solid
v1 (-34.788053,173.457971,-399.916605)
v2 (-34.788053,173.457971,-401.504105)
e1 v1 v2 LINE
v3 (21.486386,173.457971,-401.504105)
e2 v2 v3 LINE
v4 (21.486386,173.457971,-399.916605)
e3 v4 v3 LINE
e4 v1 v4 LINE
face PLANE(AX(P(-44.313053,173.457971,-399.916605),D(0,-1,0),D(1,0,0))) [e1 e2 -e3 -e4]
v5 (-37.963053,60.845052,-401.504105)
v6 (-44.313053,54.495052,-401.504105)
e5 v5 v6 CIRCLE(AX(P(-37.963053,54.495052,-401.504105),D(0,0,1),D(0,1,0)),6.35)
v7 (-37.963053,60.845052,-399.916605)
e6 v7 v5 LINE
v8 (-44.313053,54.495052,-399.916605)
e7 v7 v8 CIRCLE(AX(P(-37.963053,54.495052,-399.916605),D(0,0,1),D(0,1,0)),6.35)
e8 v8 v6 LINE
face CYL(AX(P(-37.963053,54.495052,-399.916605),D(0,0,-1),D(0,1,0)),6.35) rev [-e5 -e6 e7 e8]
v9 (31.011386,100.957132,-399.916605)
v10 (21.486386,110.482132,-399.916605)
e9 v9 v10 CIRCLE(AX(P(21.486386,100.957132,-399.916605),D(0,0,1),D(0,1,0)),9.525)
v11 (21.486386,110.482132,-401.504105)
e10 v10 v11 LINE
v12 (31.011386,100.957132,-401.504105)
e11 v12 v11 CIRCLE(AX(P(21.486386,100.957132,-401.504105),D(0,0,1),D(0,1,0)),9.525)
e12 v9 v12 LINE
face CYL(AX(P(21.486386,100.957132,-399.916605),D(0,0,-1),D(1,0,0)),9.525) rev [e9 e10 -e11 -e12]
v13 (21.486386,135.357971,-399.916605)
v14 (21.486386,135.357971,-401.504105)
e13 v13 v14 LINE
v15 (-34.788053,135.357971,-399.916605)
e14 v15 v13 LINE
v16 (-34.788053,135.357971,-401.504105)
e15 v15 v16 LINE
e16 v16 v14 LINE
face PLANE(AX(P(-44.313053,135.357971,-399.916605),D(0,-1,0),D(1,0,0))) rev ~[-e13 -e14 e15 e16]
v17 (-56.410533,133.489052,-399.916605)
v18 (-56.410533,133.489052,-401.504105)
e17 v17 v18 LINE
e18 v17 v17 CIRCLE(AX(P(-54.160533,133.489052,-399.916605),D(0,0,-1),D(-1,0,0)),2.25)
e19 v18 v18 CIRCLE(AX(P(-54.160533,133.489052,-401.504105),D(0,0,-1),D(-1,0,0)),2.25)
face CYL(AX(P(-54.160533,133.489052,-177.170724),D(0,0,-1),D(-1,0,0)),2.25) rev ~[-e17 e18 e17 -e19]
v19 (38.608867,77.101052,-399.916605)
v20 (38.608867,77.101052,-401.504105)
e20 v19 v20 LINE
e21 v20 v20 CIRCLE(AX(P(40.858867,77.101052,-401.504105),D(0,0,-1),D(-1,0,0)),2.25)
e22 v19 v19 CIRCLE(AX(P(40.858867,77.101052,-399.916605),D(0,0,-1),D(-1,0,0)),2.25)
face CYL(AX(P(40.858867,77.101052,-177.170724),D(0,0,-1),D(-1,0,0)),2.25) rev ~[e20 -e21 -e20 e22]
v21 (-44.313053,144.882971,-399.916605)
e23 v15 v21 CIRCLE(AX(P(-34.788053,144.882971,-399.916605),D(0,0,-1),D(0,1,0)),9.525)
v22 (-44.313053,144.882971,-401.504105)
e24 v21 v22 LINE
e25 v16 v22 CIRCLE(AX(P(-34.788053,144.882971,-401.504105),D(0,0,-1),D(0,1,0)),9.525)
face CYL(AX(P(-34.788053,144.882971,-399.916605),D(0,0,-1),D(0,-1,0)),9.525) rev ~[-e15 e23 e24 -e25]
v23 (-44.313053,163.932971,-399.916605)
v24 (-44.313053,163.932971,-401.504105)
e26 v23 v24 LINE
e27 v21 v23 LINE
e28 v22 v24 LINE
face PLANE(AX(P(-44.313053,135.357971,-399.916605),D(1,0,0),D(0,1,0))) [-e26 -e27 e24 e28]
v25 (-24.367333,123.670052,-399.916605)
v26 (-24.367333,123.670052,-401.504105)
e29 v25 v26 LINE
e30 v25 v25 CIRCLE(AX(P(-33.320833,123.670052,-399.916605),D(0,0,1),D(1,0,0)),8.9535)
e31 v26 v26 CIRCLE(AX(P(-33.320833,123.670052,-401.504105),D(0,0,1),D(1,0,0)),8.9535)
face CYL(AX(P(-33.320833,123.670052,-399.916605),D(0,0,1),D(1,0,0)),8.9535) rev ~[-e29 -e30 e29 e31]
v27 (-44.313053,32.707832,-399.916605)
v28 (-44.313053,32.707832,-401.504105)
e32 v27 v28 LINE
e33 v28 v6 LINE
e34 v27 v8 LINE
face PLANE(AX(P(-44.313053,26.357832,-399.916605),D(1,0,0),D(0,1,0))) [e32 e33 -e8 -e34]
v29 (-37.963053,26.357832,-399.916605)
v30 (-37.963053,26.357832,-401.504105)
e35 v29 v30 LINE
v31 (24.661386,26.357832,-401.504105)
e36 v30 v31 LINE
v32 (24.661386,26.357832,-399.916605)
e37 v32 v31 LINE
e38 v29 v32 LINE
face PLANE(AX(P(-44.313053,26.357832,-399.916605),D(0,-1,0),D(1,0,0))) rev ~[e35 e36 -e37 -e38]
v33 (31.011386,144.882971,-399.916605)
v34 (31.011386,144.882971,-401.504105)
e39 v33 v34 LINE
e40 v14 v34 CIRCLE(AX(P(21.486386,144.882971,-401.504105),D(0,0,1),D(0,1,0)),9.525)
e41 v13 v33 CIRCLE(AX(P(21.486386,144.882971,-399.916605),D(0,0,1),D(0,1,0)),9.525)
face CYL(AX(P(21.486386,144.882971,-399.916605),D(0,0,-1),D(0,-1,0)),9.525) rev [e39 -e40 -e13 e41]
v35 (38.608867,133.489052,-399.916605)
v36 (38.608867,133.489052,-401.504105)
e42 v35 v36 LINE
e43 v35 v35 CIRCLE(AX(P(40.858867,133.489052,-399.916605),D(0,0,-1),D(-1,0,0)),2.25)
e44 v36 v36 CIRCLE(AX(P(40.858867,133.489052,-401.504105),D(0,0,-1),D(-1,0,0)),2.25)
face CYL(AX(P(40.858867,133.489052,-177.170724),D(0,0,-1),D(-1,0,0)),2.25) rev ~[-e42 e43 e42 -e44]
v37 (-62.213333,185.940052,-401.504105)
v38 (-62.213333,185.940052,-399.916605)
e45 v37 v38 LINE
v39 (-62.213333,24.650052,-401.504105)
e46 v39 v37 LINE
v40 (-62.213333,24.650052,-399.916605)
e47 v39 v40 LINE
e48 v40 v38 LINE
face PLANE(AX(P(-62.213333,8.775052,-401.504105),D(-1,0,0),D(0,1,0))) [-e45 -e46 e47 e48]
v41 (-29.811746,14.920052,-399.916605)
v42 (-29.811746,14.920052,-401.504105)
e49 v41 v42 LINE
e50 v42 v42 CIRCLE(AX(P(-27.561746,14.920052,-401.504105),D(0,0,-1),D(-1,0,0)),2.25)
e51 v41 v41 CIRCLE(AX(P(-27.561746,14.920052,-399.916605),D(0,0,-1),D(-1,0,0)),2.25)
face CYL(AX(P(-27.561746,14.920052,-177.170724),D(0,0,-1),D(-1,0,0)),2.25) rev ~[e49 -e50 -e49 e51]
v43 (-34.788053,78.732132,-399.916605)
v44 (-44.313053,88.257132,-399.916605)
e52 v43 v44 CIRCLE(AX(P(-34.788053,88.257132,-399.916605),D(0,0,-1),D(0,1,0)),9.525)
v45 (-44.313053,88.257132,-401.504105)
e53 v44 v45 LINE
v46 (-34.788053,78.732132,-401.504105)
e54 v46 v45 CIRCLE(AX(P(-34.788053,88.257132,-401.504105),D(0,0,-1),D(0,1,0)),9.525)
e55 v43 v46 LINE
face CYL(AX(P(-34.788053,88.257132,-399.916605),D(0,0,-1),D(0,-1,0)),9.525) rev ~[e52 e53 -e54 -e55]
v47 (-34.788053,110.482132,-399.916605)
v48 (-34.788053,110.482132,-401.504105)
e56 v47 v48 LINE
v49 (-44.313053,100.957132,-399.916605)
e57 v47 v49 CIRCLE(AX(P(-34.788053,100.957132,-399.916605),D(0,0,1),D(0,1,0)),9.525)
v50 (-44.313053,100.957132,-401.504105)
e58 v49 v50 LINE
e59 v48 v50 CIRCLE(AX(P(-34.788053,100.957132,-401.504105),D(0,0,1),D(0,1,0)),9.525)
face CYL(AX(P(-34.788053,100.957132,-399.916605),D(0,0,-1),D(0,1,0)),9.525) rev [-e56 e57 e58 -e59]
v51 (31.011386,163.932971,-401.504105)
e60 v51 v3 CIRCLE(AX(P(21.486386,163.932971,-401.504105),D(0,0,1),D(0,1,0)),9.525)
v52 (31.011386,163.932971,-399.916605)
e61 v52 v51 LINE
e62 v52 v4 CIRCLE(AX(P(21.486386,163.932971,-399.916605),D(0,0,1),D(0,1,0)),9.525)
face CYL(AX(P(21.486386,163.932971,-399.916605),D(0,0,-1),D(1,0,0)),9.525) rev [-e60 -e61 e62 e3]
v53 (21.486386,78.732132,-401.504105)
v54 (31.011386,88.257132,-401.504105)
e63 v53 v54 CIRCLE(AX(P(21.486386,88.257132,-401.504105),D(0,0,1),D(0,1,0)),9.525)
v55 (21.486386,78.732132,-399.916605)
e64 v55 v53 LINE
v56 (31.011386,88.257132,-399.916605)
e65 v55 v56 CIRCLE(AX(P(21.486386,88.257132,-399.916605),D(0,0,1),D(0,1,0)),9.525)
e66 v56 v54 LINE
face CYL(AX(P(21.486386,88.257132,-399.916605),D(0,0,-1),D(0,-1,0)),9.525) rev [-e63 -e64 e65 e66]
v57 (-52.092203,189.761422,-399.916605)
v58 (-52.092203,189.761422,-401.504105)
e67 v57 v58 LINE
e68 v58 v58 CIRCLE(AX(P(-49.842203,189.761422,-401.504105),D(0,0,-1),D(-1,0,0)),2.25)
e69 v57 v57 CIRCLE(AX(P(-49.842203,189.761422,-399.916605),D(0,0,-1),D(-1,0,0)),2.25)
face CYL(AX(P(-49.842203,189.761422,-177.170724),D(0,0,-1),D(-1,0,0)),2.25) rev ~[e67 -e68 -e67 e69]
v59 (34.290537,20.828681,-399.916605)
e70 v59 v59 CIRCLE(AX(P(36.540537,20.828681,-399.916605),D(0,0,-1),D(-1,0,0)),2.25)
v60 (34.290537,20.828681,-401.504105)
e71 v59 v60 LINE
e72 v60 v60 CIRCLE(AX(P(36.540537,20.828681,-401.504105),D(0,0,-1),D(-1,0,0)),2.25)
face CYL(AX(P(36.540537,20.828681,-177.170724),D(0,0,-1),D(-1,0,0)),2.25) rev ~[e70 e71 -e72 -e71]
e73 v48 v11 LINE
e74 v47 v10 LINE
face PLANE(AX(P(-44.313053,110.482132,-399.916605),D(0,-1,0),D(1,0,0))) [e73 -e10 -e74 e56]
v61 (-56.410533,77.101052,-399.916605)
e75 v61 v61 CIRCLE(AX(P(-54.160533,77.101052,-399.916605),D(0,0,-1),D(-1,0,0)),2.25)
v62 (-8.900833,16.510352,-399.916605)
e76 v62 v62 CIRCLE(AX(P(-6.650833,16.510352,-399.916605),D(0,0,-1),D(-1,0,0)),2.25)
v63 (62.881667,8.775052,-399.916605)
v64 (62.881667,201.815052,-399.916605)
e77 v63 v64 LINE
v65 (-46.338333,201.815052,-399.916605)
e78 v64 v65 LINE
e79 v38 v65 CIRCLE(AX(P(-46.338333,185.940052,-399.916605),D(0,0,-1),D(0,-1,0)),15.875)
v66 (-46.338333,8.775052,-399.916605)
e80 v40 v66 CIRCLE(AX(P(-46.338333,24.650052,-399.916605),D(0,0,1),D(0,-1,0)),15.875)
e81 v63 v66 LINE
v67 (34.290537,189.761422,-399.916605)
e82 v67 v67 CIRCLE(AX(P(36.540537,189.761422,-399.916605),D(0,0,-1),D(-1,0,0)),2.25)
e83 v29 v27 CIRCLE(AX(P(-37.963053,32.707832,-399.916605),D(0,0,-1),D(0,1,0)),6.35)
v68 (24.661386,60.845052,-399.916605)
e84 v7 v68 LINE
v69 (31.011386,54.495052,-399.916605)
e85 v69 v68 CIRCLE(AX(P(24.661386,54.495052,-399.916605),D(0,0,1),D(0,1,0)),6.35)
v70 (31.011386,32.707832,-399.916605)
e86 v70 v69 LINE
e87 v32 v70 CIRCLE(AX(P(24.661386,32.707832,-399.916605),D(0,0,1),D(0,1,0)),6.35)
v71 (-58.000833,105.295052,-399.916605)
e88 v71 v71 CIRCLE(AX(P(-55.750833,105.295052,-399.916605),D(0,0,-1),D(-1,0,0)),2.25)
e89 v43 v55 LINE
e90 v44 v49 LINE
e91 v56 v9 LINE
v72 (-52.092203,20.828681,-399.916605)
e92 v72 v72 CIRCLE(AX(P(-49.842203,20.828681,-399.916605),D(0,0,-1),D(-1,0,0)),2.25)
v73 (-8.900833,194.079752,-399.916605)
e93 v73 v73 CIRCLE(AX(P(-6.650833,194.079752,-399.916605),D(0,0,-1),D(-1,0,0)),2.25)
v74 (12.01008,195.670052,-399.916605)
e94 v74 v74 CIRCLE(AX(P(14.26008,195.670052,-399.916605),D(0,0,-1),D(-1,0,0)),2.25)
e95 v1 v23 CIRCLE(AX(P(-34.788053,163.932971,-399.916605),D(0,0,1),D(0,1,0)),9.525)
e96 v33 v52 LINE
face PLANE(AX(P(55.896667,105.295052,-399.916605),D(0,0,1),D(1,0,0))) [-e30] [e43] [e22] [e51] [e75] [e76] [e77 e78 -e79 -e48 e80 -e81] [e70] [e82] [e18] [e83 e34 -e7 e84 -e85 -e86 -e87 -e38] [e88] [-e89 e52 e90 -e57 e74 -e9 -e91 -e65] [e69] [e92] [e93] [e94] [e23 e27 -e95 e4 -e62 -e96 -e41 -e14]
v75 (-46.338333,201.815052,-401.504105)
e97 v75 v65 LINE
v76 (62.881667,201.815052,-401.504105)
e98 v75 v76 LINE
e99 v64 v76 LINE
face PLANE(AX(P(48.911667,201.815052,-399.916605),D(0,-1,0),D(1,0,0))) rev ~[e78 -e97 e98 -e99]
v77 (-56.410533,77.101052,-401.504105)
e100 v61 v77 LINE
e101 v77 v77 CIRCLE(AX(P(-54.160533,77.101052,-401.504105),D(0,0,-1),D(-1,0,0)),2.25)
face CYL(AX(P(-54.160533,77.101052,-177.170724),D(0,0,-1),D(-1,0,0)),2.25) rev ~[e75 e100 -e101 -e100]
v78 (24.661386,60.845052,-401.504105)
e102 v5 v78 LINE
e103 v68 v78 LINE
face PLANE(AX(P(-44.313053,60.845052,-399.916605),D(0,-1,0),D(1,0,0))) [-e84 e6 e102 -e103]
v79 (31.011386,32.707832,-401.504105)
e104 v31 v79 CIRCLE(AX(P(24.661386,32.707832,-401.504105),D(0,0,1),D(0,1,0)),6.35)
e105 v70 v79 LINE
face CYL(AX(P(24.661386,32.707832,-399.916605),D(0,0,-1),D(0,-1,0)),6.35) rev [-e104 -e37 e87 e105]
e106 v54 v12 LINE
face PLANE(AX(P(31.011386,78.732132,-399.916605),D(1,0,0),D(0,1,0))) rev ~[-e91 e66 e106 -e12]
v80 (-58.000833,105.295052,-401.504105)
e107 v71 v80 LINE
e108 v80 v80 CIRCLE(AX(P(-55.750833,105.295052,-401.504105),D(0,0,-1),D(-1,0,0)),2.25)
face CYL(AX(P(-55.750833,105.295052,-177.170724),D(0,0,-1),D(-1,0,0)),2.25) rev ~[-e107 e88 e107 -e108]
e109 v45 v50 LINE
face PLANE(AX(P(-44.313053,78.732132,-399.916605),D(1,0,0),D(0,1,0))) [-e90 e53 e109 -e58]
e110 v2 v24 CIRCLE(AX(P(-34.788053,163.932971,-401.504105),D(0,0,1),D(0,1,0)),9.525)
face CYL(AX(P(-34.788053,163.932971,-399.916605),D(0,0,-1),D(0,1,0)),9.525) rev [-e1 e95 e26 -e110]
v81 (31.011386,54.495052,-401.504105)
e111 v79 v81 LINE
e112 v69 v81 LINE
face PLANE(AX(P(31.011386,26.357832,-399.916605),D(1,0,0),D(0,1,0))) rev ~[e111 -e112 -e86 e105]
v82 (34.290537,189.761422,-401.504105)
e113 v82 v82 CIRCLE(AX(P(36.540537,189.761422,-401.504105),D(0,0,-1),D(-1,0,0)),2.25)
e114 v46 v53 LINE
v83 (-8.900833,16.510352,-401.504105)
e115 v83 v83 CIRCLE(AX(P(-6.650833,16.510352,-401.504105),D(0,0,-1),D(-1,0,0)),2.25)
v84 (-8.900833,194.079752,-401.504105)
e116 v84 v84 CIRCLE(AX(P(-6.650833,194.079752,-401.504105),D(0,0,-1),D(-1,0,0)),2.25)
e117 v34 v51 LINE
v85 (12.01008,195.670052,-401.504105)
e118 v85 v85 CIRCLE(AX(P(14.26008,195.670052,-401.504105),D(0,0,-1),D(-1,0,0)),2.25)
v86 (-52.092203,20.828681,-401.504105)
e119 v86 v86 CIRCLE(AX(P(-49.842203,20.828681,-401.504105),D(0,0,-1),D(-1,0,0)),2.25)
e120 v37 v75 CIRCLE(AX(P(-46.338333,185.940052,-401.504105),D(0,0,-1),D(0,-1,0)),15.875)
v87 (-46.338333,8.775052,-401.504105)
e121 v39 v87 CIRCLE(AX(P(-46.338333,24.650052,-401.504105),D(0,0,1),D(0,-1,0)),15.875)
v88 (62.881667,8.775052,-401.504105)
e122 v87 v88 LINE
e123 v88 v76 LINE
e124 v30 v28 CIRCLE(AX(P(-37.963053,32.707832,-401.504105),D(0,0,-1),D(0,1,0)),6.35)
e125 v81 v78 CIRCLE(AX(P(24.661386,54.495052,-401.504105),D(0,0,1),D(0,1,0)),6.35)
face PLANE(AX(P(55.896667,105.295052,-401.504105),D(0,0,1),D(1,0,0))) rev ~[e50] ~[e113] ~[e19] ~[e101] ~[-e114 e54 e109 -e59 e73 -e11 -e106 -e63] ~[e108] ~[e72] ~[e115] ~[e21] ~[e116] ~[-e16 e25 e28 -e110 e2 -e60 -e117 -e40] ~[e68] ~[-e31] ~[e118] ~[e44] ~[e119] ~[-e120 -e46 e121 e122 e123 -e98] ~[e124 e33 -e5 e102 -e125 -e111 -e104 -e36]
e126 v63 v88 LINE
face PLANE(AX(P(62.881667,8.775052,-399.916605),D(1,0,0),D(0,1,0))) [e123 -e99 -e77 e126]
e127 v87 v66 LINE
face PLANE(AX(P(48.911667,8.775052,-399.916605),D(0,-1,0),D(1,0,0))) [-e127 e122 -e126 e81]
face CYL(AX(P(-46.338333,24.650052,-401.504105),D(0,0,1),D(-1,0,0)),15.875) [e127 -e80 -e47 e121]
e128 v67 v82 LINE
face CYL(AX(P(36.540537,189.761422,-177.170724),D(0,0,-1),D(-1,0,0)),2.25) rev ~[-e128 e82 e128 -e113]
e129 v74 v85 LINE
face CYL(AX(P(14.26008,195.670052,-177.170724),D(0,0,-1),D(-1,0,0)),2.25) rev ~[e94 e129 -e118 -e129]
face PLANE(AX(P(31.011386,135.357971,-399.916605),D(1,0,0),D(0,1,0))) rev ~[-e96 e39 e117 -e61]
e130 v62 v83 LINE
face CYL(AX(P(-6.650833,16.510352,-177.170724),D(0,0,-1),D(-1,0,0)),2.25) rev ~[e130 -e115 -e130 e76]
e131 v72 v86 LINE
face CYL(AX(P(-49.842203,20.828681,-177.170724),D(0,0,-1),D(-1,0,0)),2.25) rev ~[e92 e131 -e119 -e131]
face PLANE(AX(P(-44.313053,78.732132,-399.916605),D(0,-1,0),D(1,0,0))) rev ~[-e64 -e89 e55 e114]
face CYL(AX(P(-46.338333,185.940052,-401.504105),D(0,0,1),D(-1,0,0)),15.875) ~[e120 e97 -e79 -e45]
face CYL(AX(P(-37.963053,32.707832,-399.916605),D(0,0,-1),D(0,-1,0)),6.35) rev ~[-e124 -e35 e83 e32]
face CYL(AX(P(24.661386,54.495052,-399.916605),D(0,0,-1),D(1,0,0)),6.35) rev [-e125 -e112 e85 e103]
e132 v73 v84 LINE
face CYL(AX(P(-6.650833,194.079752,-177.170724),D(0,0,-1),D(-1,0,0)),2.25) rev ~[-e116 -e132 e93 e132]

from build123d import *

# Parameters (mm, degrees)
SKETCH2_W            = 111.125
SKETCH2_H            = 193.04
BOSS_EXTRUDE1_DEPTH  = 1.5875
M4_CLEARANCE_HOLE1_D = 4.5
FILLET1_R            = 15.875
SKETCH6_R            = 2.4003
SKETCH6_R_2          = 6.477
SKETCH6_R_3          = 4.5
SKETCH6_R_4          = 10.762
CUT_EXTRUDE1_DEPTH   = 212.192646736
SKETCH7_W            = 13.97
SKETCH7_H            = 193.04
BOSS_EXTRUDE2_DEPTH  = 1.5875
SKETCH8_W            = 75.32443897
SKETCH8_H            = 38.1
SKETCH8_R            = 4.5
SKETCH8_R_2          = 10.762
SKETCH8_H_2          = 31.75
SKETCH8_H_3          = 34.487219484
SKETCH8_R_3          = 2.4003
SKETCH8_R_4          = 6.477
SKETCH8_R_5          = 8.9535
CUT_EXTRUDE2_DEPTH   = 1.5875
FILLET2_R            = 9.525
FILLET3_R            = 6.35
FILLET4_R            = 9.525


with BuildPart() as part:
    # Sketch2 → Boss-Extrude1 (new body)
    # profile 1 of 2: a face of its own
    with BuildSketch(Plane.XY.offset(-401.504104662)):
        with Locations((-6.650833159, 105.295051609)):
            Rectangle(SKETCH2_W, SKETCH2_H)
        with BuildLine():
            ThreePointArc((40.429624387, 185.872334563), (40.429624387, 193.650509156), (32.651449794, 193.650509156))
            Line((32.651449794, 193.650509156), (29.670992248, 190.670051609))
            Line((29.670992248, 190.670051609), (-1.150833159, 190.670051609))
            Line((-1.150833159, 190.670051609), (-1.150833159, 194.079751609))
            ThreePointArc((-1.150833159, 194.079751609), (-6.650833159, 199.579751609), (-12.150833159, 194.079751609))
            Line((-12.150833159, 194.079751609), (-12.150833159, 190.670051609))
            Line((-12.150833159, 190.670051609), (-42.972658566, 190.670051609))
            Line((-42.972658566, 190.670051609), (-45.953116112, 193.650509156))
            ThreePointArc((-45.953116112, 193.650509156), (-53.731290705, 193.650509156), (-53.731290705, 185.872334563))
            Line((-53.731290705, 185.872334563), (-50.750833159, 182.891877016))
            Line((-50.750833159, 182.891877016), (-50.750833159, 138.989051609))
            Line((-50.750833159, 138.989051609), (-54.160533159, 138.989051609))
            ThreePointArc((-54.160533159, 138.989051609), (-59.660533159, 133.489051609), (-54.160533159, 127.989051609))
            Line((-54.160533159, 127.989051609), (-50.750833159, 127.989051609))
            Line((-50.750833159, 127.989051609), (-50.750833159, 82.601051609))
            Line((-50.750833159, 82.601051609), (-54.160533159, 82.601051609))
            ThreePointArc((-54.160533159, 82.601051609), (-59.660533159, 77.101051609), (-54.160533159, 71.601051609))
            Line((-54.160533159, 71.601051609), (-50.750833159, 71.601051609))
            Line((-50.750833159, 71.601051609), (-50.750833159, 27.698226203))
            Line((-50.750833159, 27.698226203), (-53.731290705, 24.717768656))
            ThreePointArc((-53.731290705, 24.717768656), (-53.731290705, 16.939594063), (-45.953116112, 16.939594063))
            Line((-45.953116112, 16.939594063), (-42.972658566, 19.920051609))
            Line((-42.972658566, 19.920051609), (-12.150833159, 19.920051609))
            Line((-12.150833159, 19.920051609), (-12.150833159, 16.510351609))
            ThreePointArc((-12.150833159, 16.510351609), (-6.650833159, 11.010351609), (-1.150833159, 16.510351609))
            Line((-1.150833159, 16.510351609), (-1.150833159, 19.920051609))
            Line((-1.150833159, 19.920051609), (29.670992248, 19.920051609))
            Line((29.670992248, 19.920051609), (32.651449794, 16.939594063))
            ThreePointArc((32.651449794, 16.939594063), (40.429624387, 16.939594063), (40.429624387, 24.717768656))
            Line((40.429624387, 24.717768656), (37.449166841, 27.698226203))
            Line((37.449166841, 27.698226203), (37.449166841, 71.601051609))
            Line((37.449166841, 71.601051609), (40.858866841, 71.601051609))
            ThreePointArc((40.858866841, 71.601051609), (46.358866841, 77.101051609), (40.858866841, 82.601051609))
            Line((40.858866841, 82.601051609), (37.449166841, 82.601051609))
            Line((37.449166841, 82.601051609), (37.449166841, 127.989051609))
            Line((37.449166841, 127.989051609), (40.858866841, 127.989051609))
            ThreePointArc((40.858866841, 127.989051609), (46.358866841, 133.489051609), (40.858866841, 138.989051609))
            Line((40.858866841, 138.989051609), (37.449166841, 138.989051609))
            Line((37.449166841, 138.989051609), (37.449166841, 182.891877016))
            Line((37.449166841, 182.891877016), (40.429624387, 185.872334563))
        make_face(mode=Mode.SUBTRACT)
    # profile 2 of 2: a face of its own
    with BuildSketch(Plane.XY.offset(-401.504104662)):
        with BuildLine():
            Line((37.449166841, 182.891877016), (40.429624387, 185.872334563))
            ThreePointArc((40.429624387, 185.872334563), (40.429624387, 193.650509156), (32.651449794, 193.650509156))
            Line((32.651449794, 193.650509156), (29.670992248, 190.670051609))
            Line((29.670992248, 190.670051609), (-1.150833159, 190.670051609))
            Line((-1.150833159, 190.670051609), (-1.150833159, 194.079751609))
            ThreePointArc((-1.150833159, 194.079751609), (-6.650833159, 199.579751609), (-12.150833159, 194.079751609))
            Line((-12.150833159, 194.079751609), (-12.150833159, 190.670051609))
            Line((-12.150833159, 190.670051609), (-42.972658566, 190.670051609))
            Line((-42.972658566, 190.670051609), (-45.953116112, 193.650509156))
            ThreePointArc((-45.953116112, 193.650509156), (-53.731290705, 193.650509156), (-53.731290705, 185.872334563))
            Line((-53.731290705, 185.872334563), (-50.750833159, 182.891877016))
            Line((-50.750833159, 182.891877016), (-50.750833159, 138.989051609))
            Line((-50.750833159, 138.989051609), (-54.160533159, 138.989051609))
            ThreePointArc((-54.160533159, 138.989051609), (-59.660533159, 133.489051609), (-54.160533159, 127.989051609))
            Line((-54.160533159, 127.989051609), (-50.750833159, 127.989051609))
            Line((-50.750833159, 127.989051609), (-50.750833159, 82.601051609))
            Line((-50.750833159, 82.601051609), (-54.160533159, 82.601051609))
            ThreePointArc((-54.160533159, 82.601051609), (-59.660533159, 77.101051609), (-54.160533159, 71.601051609))
            Line((-54.160533159, 71.601051609), (-50.750833159, 71.601051609))
            Line((-50.750833159, 71.601051609), (-50.750833159, 27.698226203))
            Line((-50.750833159, 27.698226203), (-53.731290705, 24.717768656))
            ThreePointArc((-53.731290705, 24.717768656), (-53.731290705, 16.939594063), (-45.953116112, 16.939594063))
            Line((-45.953116112, 16.939594063), (-42.972658566, 19.920051609))
            Line((-42.972658566, 19.920051609), (-12.150833159, 19.920051609))
            Line((-12.150833159, 19.920051609), (-12.150833159, 16.510351609))
            ThreePointArc((-12.150833159, 16.510351609), (-6.650833159, 11.010351609), (-1.150833159, 16.510351609))
            Line((-1.150833159, 16.510351609), (-1.150833159, 19.920051609))
            Line((-1.150833159, 19.920051609), (29.670992248, 19.920051609))
            Line((29.670992248, 19.920051609), (32.651449794, 16.939594063))
            ThreePointArc((32.651449794, 16.939594063), (40.429624387, 16.939594063), (40.429624387, 24.717768656))
            Line((40.429624387, 24.717768656), (37.449166841, 27.698226203))
            Line((37.449166841, 27.698226203), (37.449166841, 71.601051609))
            Line((37.449166841, 71.601051609), (40.858866841, 71.601051609))
            ThreePointArc((40.858866841, 71.601051609), (46.358866841, 77.101051609), (40.858866841, 82.601051609))
            Line((40.858866841, 82.601051609), (37.449166841, 82.601051609))
            Line((37.449166841, 82.601051609), (37.449166841, 127.989051609))
            Line((37.449166841, 127.989051609), (40.858866841, 127.989051609))
            ThreePointArc((40.858866841, 127.989051609), (46.358866841, 133.489051609), (40.858866841, 138.989051609))
            Line((40.858866841, 138.989051609), (37.449166841, 138.989051609))
            Line((37.449166841, 138.989051609), (37.449166841, 182.891877016))
        make_face()
    extrude(amount=BOSS_EXTRUDE1_DEPTH)

    # M4 Clearance Hole1 (through all)
    with Locations(Plane.XY.offset(-399.916604662)):
        with Locations((36.540537091, 189.761421859), (-6.650833159, 194.079751609), (-49.842203409, 189.761421859), (-54.160533159, 133.489051609), (-54.160533159, 77.101051609), (-49.842203409, 20.82868136), (-6.650833159, 16.510351609), (36.540537091, 20.82868136), (40.858866841, 77.101051609), (40.858866841, 133.489051609), (14.260079544, 195.670051609), (-55.750833159, 105.295051609), (-27.561745863, 14.920051609)):
            Hole(M4_CLEARANCE_HOLE1_D / 2)

    # Fillet1
    fillet1_edges = [part.edges().sort_by_distance(p)[0] for p in [
        (-62.213333159, 201.815051609, -400.710354662),
        (-62.213333159, 8.775051609, -400.710354662),
    ]]
    fillet(fillet1_edges, radius=FILLET1_R)

    # Sketch6 → Cut-Extrude1 (cut, through all)
    with BuildSketch(Plane.XY.offset(-399.916604662)):
        with Locations((-34.590833159, 43.382551609)):
            Circle(SKETCH6_R)
        with Locations((21.289166841, 43.382551609)):
            Circle(SKETCH6_R)
        with Locations((3.509166841, 43.382551609)):
            Circle(SKETCH6_R_2)
        with Locations((-16.810833159, 43.382551609)):
            Circle(SKETCH6_R_2)
        with Locations((-33.320833159, 123.670051609)):
            Circle(SKETCH6_R_2)
        with Locations((-25.150833159, 94.607131964)):
            Circle(SKETCH6_R_3)
        with Locations((11.849166841, 94.607131964)):
            Circle(SKETCH6_R_3)
        with Locations((11.849166841, 154.407971255)):
            Circle(SKETCH6_R_3)
        with Locations((-25.150833159, 154.407971255)):
            Circle(SKETCH6_R_3)
        with Locations((-6.650833159, 154.407971255)):
            Circle(SKETCH6_R_4)
        with Locations((-6.650833159, 94.607131964)):
            Circle(SKETCH6_R_4)
    extrude(amount=-CUT_EXTRUDE1_DEPTH, mode=Mode.SUBTRACT)

    # Sketch7 → Boss-Extrude2 (add)
    with BuildSketch(Plane.XY.offset(-399.916604662)):
        with Locations((55.896666841, 105.295051609)):
            Rectangle(SKETCH7_W, SKETCH7_H)
    extrude(amount=-BOSS_EXTRUDE2_DEPTH)

    # Sketch8 → Cut-Extrude2 (cut)
    # profile 1 of 4: a face of its own
    with BuildSketch(Plane.XY.offset(-399.916604662)):
        with Locations((-6.650833159, 154.407971255)):
            Rectangle(SKETCH8_W, SKETCH8_H)
        with Locations((11.849166841, 154.407971255)):
            Circle(SKETCH8_R, mode=Mode.SUBTRACT)
        with Locations((-6.650833159, 154.407971255)):
            Circle(SKETCH8_R_2, mode=Mode.SUBTRACT)
        with Locations((-25.150833159, 154.407971255)):
            Circle(SKETCH8_R, mode=Mode.SUBTRACT)
    # profile 2 of 4: a face of its own
    with BuildSketch(Plane.XY.offset(-399.916604662)):
        with Locations((-6.650833159, 94.607131964)):
            Rectangle(SKETCH8_W, SKETCH8_H_2)
        with Locations((11.849166841, 94.607131964)):
            Circle(SKETCH8_R, mode=Mode.SUBTRACT)
        with Locations((-6.650833159, 94.607131964)):
            Circle(SKETCH8_R_2, mode=Mode.SUBTRACT)
        with Locations((-25.150833159, 94.607131964)):
            Circle(SKETCH8_R, mode=Mode.SUBTRACT)
    # profile 3 of 4: a face of its own
    with BuildSketch(Plane.XY.offset(-399.916604662)):
        with Locations((-6.650833159, 43.601441867)):
            Rectangle(SKETCH8_W, SKETCH8_H_3)
        with Locations((-34.590833159, 43.382551609)):
            Circle(SKETCH8_R_3, mode=Mode.SUBTRACT)
        with Locations((-16.810833159, 43.382551609)):
            Circle(SKETCH8_R_4, mode=Mode.SUBTRACT)
        with Locations((3.509166841, 43.382551609)):
            Circle(SKETCH8_R_4, mode=Mode.SUBTRACT)
        with Locations((21.289166841, 43.382551609)):
            Circle(SKETCH8_R_3, mode=Mode.SUBTRACT)
    # profile 4 of 4: a face of its own
    with BuildSketch(Plane.XY.offset(-399.916604662)):
        with Locations((-33.320833159, 123.670051609)):
            Circle(SKETCH8_R_5)
        with Locations((-33.320833159, 123.670051609)):
            Circle(SKETCH8_R_4, mode=Mode.SUBTRACT)
    extrude(amount=-CUT_EXTRUDE2_DEPTH, mode=Mode.SUBTRACT)

    # Fillet2
    fillet2_edges = [part.edges().sort_by_distance(p)[0] for p in [
        (-44.313052644, 135.357971255, -400.710354662),
        (-44.313052644, 173.457971255, -400.710354662),
        (31.011386326, 173.457971255, -400.710354662),
        (31.011386326, 135.357971255, -400.710354662),
    ]]
    fillet(fillet2_edges, radius=FILLET2_R)

    # Fillet3
    fillet3_edges = [part.edges().sort_by_distance(p)[0] for p in [
        (-44.313052644, 60.845051609, -400.710354662),
        (31.011386326, 60.845051609, -400.710354662),
        (31.011386326, 26.357832125, -400.710354662),
        (-44.313052644, 26.357832125, -400.710354662),
    ]]
    fillet(fillet3_edges, radius=FILLET3_R)

    # Fillet4
    fillet4_edges = [part.edges().sort_by_distance(p)[0] for p in [
        (31.011386326, 110.482131964, -400.710354662),
        (31.011386326, 78.732131964, -400.710354662),
        (-44.313052644, 78.732131964, -400.710354662),
        (-44.313052644, 110.482131964, -400.710354662),
    ]]
    fillet(fillet4_edges, radius=FILLET4_R)


solid = part.part
